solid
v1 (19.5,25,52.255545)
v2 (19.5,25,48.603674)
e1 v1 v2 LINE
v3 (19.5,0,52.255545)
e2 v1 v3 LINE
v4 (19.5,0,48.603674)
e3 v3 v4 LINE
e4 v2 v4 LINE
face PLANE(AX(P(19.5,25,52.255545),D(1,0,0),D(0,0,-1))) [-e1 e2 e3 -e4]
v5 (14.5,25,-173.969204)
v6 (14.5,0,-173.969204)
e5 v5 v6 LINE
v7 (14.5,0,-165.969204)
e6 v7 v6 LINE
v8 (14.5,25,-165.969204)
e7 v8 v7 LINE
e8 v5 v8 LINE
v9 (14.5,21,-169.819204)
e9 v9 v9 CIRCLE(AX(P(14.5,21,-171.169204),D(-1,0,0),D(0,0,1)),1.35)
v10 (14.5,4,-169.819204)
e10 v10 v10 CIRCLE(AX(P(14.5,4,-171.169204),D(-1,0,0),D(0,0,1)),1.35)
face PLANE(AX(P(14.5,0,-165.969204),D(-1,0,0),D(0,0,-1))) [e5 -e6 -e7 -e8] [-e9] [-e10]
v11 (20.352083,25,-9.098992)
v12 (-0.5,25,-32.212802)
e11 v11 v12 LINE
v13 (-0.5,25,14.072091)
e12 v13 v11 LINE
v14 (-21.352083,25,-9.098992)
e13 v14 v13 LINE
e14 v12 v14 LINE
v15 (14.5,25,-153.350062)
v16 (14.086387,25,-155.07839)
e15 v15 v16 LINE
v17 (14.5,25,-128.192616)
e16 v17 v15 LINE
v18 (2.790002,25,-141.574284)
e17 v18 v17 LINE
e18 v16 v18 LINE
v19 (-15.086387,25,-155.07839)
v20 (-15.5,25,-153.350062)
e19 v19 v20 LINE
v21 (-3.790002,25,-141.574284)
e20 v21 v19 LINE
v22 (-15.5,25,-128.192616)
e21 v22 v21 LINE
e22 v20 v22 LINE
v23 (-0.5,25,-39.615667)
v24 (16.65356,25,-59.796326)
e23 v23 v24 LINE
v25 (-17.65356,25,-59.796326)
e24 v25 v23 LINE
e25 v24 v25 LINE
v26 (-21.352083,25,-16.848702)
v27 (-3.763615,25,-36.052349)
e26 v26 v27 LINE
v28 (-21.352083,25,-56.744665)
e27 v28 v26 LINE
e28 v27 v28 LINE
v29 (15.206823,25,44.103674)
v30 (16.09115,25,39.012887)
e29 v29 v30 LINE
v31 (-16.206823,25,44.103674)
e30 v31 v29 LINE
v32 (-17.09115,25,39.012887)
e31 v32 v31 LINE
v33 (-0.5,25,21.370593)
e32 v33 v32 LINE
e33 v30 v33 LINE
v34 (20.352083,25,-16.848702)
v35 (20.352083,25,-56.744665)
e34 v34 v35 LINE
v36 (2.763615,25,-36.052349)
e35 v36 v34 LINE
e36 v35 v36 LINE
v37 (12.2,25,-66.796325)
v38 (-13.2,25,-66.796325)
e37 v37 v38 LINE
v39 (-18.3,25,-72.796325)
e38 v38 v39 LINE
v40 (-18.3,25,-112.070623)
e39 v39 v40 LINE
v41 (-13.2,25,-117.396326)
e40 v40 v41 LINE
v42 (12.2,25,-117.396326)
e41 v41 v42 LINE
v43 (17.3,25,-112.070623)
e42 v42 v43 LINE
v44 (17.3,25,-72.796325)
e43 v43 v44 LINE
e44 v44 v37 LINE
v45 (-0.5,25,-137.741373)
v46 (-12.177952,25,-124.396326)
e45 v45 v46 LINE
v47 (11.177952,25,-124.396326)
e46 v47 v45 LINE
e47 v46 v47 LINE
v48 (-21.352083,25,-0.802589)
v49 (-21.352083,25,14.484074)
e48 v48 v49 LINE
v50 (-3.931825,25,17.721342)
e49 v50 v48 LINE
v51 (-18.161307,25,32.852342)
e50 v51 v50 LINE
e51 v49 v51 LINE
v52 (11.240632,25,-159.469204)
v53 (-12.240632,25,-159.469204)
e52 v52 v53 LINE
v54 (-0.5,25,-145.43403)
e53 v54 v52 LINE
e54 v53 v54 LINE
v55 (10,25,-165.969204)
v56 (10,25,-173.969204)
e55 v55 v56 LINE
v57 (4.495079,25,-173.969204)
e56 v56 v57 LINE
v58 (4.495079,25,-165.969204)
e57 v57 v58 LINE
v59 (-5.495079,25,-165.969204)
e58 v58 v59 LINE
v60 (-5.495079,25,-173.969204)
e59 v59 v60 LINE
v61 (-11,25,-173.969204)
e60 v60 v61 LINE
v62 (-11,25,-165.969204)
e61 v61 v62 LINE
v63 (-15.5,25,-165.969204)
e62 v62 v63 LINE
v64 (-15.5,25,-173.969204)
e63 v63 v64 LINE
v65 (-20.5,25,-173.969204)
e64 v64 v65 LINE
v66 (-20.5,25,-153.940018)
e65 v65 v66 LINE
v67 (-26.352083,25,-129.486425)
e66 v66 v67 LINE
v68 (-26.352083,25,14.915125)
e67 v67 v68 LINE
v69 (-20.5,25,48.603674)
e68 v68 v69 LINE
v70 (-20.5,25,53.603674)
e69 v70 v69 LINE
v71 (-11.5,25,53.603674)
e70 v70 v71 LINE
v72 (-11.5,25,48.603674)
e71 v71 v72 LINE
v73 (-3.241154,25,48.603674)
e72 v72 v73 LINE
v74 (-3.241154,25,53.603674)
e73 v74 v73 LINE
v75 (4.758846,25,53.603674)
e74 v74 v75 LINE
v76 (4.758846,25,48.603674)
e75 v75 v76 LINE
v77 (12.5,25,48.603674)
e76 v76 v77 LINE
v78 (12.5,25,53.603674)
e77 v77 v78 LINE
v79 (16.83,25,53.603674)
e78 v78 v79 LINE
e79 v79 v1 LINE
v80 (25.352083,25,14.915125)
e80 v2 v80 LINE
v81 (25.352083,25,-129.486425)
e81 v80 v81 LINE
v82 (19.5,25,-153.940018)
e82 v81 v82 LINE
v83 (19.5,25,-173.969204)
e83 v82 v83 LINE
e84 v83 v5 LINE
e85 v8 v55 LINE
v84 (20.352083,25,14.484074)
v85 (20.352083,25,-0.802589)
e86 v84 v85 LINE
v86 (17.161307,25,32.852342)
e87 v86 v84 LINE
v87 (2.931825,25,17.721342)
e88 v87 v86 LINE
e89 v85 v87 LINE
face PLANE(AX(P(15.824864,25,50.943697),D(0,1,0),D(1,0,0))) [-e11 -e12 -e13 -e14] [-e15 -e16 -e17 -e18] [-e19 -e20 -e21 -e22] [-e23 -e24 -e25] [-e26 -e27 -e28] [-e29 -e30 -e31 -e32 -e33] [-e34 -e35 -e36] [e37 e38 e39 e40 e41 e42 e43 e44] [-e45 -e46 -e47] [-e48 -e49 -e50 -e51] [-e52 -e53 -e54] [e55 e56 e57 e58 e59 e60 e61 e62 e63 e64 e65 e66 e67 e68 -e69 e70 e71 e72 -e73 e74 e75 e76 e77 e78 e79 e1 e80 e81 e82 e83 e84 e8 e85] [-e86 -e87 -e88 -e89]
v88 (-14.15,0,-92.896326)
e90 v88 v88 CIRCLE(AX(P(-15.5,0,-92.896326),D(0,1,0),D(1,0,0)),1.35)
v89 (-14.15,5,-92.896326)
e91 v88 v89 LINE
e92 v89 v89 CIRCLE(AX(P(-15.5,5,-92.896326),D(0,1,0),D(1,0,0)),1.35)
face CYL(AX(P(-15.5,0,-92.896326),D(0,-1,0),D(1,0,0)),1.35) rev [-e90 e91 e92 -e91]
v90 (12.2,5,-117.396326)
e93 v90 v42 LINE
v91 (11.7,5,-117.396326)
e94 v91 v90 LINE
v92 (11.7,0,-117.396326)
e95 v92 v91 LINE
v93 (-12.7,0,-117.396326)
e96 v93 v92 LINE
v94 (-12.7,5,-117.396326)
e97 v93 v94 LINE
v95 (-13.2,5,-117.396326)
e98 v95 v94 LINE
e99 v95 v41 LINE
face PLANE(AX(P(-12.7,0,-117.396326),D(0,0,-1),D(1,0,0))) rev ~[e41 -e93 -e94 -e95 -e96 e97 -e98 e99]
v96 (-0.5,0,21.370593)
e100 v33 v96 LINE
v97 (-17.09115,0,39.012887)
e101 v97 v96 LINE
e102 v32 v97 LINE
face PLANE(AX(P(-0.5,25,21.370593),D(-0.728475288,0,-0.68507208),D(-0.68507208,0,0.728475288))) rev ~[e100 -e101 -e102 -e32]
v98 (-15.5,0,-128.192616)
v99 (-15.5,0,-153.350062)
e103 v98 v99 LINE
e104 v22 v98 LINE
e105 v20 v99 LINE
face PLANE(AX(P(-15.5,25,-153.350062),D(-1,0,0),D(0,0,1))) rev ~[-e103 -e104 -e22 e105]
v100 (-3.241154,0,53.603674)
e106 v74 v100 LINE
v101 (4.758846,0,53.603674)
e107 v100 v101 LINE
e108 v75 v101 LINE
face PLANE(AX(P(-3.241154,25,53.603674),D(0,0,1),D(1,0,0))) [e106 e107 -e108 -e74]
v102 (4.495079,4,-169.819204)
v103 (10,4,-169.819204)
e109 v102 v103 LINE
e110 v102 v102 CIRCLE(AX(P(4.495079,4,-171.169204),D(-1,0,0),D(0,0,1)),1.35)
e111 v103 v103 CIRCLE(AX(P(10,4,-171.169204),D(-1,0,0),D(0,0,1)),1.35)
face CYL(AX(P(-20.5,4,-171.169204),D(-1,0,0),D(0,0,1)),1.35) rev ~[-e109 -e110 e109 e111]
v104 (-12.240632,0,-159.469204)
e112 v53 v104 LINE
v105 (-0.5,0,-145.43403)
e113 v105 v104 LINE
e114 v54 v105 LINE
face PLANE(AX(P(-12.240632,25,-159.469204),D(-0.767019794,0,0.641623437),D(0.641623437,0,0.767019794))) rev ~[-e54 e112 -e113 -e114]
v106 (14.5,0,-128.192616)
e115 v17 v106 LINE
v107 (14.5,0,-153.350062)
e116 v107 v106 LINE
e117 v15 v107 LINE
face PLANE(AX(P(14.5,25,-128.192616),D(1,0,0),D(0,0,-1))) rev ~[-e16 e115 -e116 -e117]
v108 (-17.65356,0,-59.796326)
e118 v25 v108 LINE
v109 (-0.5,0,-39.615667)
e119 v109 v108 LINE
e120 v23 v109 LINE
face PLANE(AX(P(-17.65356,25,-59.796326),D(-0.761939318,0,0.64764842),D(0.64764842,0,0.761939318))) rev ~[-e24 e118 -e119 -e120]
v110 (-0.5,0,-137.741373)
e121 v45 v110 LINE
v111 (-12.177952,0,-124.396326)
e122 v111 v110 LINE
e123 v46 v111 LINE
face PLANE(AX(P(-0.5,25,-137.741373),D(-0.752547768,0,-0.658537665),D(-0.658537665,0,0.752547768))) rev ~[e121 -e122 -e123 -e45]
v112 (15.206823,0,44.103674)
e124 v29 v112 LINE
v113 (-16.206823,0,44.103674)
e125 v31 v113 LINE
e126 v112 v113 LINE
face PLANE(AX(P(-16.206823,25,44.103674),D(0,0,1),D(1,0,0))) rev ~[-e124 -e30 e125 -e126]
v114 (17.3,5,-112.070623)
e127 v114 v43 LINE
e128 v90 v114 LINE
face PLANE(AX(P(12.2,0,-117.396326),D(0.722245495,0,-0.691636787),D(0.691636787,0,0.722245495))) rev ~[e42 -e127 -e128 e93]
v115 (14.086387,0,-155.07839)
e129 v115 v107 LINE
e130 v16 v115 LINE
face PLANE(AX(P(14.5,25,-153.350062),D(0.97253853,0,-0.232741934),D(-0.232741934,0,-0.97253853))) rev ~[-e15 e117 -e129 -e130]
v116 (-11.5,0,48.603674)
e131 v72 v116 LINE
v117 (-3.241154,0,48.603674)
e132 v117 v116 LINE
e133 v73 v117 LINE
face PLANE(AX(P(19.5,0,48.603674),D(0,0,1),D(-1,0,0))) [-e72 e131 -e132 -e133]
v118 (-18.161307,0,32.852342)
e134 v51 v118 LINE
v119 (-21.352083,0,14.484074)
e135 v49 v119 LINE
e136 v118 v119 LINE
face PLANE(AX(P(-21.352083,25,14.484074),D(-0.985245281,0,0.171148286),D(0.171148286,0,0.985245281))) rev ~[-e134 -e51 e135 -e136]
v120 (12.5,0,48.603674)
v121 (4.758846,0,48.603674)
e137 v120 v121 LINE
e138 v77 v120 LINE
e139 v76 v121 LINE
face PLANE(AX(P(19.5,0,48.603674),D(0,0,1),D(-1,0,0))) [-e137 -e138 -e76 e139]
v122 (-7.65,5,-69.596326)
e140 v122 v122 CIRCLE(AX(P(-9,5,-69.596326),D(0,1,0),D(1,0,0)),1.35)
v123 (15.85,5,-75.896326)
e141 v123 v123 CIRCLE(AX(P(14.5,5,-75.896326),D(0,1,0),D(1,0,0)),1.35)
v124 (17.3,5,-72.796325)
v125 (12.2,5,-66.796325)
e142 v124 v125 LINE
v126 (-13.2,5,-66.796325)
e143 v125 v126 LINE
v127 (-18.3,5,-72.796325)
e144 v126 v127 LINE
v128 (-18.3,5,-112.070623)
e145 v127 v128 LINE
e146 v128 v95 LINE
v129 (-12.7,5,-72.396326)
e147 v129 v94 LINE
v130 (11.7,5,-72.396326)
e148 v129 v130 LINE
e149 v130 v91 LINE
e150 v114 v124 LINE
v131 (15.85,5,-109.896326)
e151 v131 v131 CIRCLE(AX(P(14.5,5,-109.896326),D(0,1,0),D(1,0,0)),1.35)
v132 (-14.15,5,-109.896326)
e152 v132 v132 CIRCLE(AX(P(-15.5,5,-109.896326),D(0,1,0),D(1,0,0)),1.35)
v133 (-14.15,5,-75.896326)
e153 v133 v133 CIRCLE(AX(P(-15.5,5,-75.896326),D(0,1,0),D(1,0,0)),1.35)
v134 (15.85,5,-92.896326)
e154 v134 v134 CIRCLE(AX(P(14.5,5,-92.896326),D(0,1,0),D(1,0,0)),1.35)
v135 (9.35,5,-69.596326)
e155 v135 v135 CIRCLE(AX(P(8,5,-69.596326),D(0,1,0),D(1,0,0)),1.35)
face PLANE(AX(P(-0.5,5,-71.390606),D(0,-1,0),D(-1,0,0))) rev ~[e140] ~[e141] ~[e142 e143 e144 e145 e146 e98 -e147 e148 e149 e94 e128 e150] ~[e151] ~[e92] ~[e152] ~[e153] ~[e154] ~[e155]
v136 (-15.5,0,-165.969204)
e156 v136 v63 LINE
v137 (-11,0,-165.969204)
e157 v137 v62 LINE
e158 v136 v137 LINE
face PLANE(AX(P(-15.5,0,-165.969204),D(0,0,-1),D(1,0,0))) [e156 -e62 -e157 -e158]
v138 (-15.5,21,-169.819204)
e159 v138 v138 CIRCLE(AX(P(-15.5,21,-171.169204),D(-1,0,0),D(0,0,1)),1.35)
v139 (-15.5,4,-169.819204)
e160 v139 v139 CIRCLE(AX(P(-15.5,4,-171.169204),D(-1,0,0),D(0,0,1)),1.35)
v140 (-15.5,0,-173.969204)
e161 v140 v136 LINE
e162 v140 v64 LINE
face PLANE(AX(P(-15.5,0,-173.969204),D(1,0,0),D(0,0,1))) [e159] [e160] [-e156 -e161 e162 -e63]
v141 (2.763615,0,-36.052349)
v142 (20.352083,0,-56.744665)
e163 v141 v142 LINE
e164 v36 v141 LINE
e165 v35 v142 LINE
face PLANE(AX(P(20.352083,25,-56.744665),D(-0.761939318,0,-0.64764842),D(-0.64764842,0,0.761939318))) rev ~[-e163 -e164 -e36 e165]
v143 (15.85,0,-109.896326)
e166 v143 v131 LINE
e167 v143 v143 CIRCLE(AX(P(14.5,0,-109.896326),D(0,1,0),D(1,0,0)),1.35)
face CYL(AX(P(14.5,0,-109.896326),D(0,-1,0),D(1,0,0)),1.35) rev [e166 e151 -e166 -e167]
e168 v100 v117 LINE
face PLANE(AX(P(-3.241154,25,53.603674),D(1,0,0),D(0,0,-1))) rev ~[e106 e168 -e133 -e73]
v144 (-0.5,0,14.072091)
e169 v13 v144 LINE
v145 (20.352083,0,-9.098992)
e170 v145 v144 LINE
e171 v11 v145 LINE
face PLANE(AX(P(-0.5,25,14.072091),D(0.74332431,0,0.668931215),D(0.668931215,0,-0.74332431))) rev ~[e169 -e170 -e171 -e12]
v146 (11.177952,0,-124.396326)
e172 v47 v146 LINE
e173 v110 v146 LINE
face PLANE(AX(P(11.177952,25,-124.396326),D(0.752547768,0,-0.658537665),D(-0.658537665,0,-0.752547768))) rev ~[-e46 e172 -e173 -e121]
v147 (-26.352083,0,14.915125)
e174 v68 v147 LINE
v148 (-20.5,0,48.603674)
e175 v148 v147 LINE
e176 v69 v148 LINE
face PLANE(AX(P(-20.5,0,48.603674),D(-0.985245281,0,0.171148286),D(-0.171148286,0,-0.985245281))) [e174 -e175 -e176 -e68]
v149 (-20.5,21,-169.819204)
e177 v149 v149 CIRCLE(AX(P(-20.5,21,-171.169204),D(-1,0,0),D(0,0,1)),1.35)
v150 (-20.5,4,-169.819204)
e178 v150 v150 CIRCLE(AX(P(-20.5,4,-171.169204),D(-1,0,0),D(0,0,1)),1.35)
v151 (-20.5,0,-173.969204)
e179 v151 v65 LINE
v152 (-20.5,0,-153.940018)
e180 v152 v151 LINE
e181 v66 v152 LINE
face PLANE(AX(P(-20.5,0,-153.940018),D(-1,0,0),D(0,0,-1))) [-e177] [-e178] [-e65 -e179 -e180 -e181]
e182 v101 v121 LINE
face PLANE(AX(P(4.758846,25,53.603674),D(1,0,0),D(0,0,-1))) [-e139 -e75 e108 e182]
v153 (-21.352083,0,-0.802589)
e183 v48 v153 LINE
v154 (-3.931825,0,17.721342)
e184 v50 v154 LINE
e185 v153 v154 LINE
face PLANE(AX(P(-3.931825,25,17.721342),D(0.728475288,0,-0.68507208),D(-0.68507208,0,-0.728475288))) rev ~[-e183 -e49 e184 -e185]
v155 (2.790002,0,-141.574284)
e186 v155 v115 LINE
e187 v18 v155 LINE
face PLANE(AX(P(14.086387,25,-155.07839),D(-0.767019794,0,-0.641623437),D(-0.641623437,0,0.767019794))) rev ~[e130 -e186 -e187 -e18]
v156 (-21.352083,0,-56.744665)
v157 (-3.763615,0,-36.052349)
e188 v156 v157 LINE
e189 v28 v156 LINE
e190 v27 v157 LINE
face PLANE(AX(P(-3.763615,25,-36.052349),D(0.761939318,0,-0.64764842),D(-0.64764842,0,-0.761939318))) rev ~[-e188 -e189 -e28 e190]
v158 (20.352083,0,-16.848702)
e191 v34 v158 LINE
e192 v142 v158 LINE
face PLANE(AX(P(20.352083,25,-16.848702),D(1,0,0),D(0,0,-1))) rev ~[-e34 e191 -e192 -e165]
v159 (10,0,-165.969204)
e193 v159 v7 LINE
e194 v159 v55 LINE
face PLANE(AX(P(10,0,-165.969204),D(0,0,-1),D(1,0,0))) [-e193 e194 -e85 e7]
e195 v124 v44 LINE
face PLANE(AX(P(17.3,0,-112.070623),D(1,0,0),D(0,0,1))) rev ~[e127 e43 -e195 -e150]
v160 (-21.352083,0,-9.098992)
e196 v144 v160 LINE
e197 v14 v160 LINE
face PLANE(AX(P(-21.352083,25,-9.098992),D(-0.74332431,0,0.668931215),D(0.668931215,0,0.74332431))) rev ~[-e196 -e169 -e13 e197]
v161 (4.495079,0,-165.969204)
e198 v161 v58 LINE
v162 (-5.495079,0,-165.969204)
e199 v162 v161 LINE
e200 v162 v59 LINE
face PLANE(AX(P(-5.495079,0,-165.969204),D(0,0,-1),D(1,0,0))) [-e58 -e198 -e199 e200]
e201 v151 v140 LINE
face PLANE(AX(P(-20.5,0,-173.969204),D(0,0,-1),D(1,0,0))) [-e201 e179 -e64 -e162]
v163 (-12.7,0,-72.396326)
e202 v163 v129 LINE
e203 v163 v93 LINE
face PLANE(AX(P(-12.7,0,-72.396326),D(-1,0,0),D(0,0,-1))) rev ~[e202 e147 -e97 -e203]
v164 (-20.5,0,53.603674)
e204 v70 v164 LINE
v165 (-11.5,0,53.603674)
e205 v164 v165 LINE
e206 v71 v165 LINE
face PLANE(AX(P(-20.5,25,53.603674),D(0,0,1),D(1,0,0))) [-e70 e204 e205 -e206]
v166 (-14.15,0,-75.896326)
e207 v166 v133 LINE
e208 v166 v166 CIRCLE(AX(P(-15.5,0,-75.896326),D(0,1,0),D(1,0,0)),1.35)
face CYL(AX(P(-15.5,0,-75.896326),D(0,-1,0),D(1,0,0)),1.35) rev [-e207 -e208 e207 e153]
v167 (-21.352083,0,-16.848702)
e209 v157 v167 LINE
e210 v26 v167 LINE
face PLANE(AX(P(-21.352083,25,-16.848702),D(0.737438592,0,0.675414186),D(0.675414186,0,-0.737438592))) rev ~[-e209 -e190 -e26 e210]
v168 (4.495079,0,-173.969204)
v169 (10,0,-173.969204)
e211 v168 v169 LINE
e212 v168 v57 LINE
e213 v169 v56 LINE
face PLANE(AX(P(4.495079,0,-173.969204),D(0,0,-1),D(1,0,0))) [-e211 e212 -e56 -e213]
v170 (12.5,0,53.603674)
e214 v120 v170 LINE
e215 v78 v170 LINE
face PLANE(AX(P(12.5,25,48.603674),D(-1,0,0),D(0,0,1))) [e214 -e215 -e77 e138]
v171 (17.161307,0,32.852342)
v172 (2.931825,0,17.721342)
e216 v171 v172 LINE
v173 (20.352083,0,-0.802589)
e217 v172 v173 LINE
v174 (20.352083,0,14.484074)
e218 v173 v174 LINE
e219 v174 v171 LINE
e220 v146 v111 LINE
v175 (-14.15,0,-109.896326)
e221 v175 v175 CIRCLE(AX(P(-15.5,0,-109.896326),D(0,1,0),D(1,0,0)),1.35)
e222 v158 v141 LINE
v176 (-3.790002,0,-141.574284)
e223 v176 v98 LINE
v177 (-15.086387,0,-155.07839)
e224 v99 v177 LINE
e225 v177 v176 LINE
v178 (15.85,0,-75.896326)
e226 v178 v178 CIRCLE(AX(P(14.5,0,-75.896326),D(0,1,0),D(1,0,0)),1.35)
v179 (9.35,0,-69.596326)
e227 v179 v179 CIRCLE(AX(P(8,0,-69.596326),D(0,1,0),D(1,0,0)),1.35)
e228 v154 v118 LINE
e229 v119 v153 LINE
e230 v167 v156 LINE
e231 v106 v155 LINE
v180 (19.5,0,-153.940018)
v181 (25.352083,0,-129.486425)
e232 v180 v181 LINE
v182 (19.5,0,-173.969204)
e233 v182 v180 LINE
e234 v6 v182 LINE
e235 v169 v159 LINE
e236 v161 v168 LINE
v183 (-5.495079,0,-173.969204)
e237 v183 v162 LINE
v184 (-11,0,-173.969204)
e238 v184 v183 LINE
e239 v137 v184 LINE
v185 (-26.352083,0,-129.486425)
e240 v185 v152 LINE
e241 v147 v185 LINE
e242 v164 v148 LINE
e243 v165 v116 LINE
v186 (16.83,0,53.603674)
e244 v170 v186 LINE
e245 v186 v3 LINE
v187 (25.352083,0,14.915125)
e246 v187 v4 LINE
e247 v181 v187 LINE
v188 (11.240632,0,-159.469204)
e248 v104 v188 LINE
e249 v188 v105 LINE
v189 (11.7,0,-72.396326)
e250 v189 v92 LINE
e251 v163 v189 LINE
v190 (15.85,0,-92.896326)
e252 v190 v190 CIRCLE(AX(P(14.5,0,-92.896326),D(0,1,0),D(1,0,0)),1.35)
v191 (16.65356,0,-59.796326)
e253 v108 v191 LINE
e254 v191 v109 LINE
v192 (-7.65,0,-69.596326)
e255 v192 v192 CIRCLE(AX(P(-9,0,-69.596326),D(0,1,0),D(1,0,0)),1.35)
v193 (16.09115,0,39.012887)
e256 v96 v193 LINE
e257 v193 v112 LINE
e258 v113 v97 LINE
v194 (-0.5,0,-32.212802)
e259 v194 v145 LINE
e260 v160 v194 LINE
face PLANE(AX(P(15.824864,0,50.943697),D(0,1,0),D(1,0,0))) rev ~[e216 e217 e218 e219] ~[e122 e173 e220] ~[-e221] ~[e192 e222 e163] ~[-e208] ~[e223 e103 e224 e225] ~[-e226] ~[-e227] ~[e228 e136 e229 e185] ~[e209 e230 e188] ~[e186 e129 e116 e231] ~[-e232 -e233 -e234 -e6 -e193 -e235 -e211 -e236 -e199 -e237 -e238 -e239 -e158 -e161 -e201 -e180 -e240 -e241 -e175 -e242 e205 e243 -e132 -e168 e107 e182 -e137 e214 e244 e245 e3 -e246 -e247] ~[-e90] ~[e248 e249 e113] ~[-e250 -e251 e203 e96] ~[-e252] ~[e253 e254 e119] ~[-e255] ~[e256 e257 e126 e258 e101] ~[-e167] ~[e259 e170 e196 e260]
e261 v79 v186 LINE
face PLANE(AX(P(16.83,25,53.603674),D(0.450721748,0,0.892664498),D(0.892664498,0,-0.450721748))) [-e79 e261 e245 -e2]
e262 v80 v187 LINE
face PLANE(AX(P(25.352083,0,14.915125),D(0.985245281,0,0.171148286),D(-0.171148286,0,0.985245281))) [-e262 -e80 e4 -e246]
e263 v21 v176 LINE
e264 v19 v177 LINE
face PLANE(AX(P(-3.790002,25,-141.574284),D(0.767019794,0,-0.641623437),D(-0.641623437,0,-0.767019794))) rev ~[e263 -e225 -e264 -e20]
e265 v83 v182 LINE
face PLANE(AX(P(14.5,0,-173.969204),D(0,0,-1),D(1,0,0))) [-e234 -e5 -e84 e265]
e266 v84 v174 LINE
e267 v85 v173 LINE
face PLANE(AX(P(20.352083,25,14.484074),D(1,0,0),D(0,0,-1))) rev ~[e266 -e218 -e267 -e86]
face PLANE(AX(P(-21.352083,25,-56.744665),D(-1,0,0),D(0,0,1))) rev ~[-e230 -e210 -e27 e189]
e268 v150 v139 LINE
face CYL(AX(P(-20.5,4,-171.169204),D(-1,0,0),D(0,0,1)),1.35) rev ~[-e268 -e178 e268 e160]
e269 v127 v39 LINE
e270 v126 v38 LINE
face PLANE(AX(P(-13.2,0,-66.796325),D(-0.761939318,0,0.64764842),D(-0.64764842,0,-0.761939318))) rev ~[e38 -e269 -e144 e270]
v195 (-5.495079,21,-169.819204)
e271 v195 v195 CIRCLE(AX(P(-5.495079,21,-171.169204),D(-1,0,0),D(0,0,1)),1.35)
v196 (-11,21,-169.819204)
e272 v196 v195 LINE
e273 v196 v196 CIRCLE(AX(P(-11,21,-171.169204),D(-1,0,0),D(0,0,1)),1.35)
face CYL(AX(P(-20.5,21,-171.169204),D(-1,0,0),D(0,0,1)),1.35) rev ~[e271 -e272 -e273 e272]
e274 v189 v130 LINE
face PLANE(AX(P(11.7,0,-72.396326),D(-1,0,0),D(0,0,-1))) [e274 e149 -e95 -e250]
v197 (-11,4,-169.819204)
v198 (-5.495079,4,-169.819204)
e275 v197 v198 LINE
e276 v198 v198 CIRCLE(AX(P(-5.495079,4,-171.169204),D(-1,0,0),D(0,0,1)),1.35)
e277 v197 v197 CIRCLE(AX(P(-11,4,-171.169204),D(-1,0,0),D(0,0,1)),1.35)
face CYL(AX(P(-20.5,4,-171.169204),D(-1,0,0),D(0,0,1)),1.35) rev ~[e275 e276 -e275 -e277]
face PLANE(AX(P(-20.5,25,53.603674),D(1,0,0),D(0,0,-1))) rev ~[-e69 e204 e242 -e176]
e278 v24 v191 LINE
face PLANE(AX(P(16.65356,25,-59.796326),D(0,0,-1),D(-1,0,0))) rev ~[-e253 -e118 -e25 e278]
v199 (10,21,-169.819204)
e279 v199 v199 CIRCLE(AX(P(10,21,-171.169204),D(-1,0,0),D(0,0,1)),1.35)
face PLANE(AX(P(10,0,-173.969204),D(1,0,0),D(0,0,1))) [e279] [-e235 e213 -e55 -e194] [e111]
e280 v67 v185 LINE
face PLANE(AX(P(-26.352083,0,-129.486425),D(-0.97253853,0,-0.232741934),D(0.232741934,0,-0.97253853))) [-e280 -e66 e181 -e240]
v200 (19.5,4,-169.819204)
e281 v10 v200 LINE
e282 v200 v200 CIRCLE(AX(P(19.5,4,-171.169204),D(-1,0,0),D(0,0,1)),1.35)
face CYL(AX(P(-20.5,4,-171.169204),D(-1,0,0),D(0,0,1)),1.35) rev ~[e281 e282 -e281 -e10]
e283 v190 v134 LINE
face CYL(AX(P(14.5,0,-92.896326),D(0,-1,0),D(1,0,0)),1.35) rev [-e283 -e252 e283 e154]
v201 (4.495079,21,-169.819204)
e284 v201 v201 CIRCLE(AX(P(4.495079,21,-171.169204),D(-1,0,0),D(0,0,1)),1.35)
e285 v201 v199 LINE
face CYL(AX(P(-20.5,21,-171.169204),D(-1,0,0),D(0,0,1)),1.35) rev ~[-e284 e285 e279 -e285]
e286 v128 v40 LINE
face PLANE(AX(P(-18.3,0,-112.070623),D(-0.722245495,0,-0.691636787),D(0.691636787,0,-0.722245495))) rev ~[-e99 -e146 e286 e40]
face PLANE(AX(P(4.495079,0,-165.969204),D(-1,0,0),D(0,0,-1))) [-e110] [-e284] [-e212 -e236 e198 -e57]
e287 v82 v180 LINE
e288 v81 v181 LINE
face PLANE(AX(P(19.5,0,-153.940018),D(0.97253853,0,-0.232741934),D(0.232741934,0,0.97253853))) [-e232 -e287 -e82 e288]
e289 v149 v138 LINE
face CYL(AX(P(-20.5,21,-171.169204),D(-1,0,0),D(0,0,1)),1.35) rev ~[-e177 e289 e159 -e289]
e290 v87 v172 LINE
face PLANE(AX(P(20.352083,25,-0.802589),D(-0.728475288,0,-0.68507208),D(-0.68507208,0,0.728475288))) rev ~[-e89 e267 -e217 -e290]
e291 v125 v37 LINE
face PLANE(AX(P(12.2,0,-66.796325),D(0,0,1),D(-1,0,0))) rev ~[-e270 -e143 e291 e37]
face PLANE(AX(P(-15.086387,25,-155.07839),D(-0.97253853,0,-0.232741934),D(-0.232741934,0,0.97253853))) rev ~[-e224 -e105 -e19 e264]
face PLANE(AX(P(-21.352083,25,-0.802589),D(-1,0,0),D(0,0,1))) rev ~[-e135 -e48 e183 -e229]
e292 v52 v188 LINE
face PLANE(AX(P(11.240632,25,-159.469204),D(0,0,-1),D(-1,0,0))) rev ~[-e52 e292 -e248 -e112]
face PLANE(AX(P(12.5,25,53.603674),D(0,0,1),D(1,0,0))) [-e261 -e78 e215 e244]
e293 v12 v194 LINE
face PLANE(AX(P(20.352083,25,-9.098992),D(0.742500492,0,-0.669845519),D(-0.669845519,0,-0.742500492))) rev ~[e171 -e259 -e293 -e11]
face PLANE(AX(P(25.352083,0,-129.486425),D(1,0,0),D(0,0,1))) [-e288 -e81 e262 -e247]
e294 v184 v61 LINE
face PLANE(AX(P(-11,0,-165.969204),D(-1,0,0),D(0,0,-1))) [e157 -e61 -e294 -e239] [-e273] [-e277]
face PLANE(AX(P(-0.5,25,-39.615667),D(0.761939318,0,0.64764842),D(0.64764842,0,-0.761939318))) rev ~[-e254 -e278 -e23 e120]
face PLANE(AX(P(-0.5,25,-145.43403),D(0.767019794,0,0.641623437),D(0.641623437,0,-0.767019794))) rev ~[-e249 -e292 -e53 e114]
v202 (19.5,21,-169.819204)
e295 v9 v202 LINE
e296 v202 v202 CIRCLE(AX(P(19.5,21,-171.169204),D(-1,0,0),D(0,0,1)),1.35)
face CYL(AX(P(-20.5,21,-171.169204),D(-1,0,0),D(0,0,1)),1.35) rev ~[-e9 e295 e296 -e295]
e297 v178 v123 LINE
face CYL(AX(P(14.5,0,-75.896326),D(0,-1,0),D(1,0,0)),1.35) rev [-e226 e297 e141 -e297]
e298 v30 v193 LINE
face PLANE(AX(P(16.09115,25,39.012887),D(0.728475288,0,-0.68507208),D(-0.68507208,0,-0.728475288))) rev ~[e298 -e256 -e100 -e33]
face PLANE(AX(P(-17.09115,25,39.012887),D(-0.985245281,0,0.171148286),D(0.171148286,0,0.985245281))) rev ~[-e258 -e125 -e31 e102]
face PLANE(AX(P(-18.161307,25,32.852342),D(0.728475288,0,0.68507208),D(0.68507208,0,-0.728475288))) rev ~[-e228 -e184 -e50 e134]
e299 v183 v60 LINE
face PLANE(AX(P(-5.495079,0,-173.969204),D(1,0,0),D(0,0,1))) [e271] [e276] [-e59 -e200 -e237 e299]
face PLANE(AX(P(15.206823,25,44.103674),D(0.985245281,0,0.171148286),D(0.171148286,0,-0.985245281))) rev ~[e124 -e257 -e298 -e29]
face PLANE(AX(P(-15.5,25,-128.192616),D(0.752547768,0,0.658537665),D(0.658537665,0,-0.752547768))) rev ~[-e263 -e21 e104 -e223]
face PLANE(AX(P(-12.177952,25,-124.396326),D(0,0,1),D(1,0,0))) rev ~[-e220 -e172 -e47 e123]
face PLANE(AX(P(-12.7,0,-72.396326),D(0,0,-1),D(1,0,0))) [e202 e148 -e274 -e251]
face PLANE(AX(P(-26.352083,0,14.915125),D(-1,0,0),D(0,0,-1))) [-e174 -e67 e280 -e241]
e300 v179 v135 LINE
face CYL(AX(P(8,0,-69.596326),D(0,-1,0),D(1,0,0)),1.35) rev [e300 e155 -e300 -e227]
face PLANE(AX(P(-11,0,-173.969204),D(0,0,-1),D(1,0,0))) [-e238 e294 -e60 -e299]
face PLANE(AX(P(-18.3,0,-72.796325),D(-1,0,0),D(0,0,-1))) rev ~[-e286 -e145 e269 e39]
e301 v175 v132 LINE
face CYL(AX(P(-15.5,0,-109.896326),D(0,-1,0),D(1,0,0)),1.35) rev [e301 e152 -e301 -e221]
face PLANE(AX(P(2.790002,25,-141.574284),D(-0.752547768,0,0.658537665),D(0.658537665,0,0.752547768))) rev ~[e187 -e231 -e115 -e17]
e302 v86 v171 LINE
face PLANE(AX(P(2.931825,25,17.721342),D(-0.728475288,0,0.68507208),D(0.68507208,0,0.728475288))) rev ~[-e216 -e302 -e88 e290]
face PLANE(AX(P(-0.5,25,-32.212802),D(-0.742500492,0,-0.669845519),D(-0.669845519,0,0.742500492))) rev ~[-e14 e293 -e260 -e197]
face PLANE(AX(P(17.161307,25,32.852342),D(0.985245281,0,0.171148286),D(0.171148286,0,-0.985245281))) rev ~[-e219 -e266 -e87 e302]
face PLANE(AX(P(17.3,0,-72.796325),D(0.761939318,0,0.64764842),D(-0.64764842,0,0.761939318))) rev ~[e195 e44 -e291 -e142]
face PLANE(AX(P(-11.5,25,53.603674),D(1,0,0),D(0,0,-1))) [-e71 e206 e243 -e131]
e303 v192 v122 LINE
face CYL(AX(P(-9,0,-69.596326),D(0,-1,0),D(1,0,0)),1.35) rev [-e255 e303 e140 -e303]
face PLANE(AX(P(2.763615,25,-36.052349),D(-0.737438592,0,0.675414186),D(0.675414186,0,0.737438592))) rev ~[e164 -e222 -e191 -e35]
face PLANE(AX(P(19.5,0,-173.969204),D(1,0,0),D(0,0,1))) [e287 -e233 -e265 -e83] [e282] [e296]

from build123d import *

# Parameters (mm, degrees)
SZKIC1_W                    = 24.4
SZKIC1_H                    = 45
SZKIC1_R                    = 1.35
DODANIE_WYCI_GNI_CIE1_DEPTH = 5
DODANIE_WYCI_GNI_CIE2_DEPTH = 25
WYTNIJ_WYCI_GNI_CIE5_DEPTH  = 178.720894332
SZKIC7_R                    = 1.35
WYTNIJ_WYCI_GNI_CIE6_DEPTH  = 182.638920752
SZKIC8_W                    = 8
SZKIC8_H                    = 5
SZKIC8_W_2                  = 9
DODANIE_WYCI_GNI_CIE3_DEPTH = 25


with BuildPart() as part:
    # Szkic1 → Dodanie-wyci_gni_cie1 (new body)
    with BuildSketch(Plane(origin=(0, 0, 0), x_dir=(1, 0, 0), z_dir=(0, 1, 0))):
        Polygon((14.5, 165.969204133), (10, 165.969204133), (10, 173.969204133), (4.495079248, 173.969204133), (4.495079248, 165.969204133), (-5.495079248, 165.969204133), (-5.495079248, 173.969204133), (-11, 173.969204133), (-11, 165.969204133), (-15.5, 165.969204133), (-15.5, 173.969204133), (-20.5, 173.969204133), (-20.5, 153.940017653), (-26.352083325, 129.486424712), (-26.352083325, -14.915125095), (-20.5, -48.6036745), (19.5, -48.6036745), (25.352083325, -14.915125095), (25.352083325, 129.486424712), (19.5, 153.940017653), (19.5, 173.969204133), (14.5, 173.969204133), align=None)
        with Locations((-0.5, 94.8963255)):
            Rectangle(SZKIC1_W, SZKIC1_H, mode=Mode.SUBTRACT)
        with Locations((14.5, 109.8963255)):
            Circle(SZKIC1_R, mode=Mode.SUBTRACT)
        with Locations((-15.5, 75.8963255)):
            Circle(SZKIC1_R, mode=Mode.SUBTRACT)
        with Locations((-15.5, 92.8963255)):
            Circle(SZKIC1_R, mode=Mode.SUBTRACT)
        with Locations((-15.5, 109.8963255)):
            Circle(SZKIC1_R, mode=Mode.SUBTRACT)
        with Locations((-9, 69.5963255)):
            Circle(SZKIC1_R, mode=Mode.SUBTRACT)
        with Locations((8, 69.5963255)):
            Circle(SZKIC1_R, mode=Mode.SUBTRACT)
        with Locations((14.5, 75.8963255)):
            Circle(SZKIC1_R, mode=Mode.SUBTRACT)
        with Locations((14.5, 92.8963255)):
            Circle(SZKIC1_R, mode=Mode.SUBTRACT)
    extrude(amount=DODANIE_WYCI_GNI_CIE1_DEPTH)

    # Szkic1_3 → Dodanie-wyci_gni_cie2 (add)
    with BuildSketch(Plane(origin=(0, 0, 0), x_dir=(1, 0, 0), z_dir=(0, 1, 0))):
        Polygon((14.5, 165.969204133), (10, 165.969204133), (10, 173.969204133), (4.495079248, 173.969204133), (4.495079248, 165.969204133), (-5.495079248, 165.969204133), (-5.495079248, 173.969204133), (-11, 173.969204133), (-11, 165.969204133), (-15.5, 165.969204133), (-15.5, 173.969204133), (-20.5, 173.969204133), (-20.5, 153.940017653), (-26.352083325, 129.486424712), (-26.352083325, -14.915125095), (-20.5, -48.6036745), (19.5, -48.6036745), (25.352083325, -14.915125095), (25.352083325, 129.486424712), (19.5, 153.940017653), (19.5, 173.969204133), (14.5, 173.969204133), align=None)
        Polygon((-13.2, 117.3963255), (-12.7, 117.3963255), (11.7, 117.3963255), (12.2, 117.3963255), (17.3, 112.070622628), (17.3, 72.7963255), (12.2, 66.7963255), (-13.2, 66.7963255), (-18.3, 72.7963255), (-18.3, 112.070622628), align=None, mode=Mode.SUBTRACT)
    extrude(amount=DODANIE_WYCI_GNI_CIE2_DEPTH)

    # Szkic6 → Wytnij-wyci_gni_cie5 (cut, through all)
    with BuildSketch(Plane(origin=(0, 25, 0), x_dir=(1, 0, 0), z_dir=(0, 1, 0))):
        Polygon((16.653559582, 59.7963255), (-17.653559582, 59.7963255), (-0.5, 39.615667168), align=None)
        Polygon((-21.352083325, 56.74466496), (-21.352083325, 16.848702414), (-3.763614868, 36.052349129), align=None)
        Polygon((2.763614868, 36.052349129), (20.352083325, 16.848702414), (20.352083325, 56.74466496), align=None)
        Polygon((17.161306881, -32.852341508), (20.352083325, -14.484074364), (20.352083325, 0.802588639), (2.931825406, -17.721341562), align=None)
        Polygon((15.206822662, -44.1036745), (16.091150305, -39.01288651), (-0.5, -21.370592599), (-17.091150305, -39.01288651), (-16.206822662, -44.1036745), align=None)
        Polygon((-0.5, -14.072090524), (20.352083325, 9.098992114), (-0.5, 32.212802226), (-21.352083325, 9.098992114), align=None)
        Polygon((-3.931825406, -17.721341562), (-21.352083325, 0.802588639), (-21.352083325, -14.484074364), (-18.161306881, -32.852341508), align=None)
        Polygon((-12.240631704, 159.469204133), (-0.5, 145.434029611), (11.240631704, 159.469204133), align=None)
        Polygon((-15.086387227, 155.078390111), (-15.5, 153.350062298), (-15.5, 128.192615569), (-3.790002176, 141.574284058), align=None)
        Polygon((-12.177951744, 124.3963255), (11.177951744, 124.3963255), (-0.5, 137.741373143), align=None)
        Polygon((14.5, 128.192615569), (14.5, 153.350062298), (14.086387227, 155.078390111), (2.790002176, 141.574284058), align=None)
    extrude(amount=-WYTNIJ_WYCI_GNI_CIE5_DEPTH, mode=Mode.SUBTRACT)

    # Szkic7 → Wytnij-wyci_gni_cie6 (cut, through all)
    with BuildSketch(Plane.ZY.offset(20.5)):
        with Locations((-171.169204133, 21)):
            Circle(SZKIC7_R)
        with Locations((-171.169204133, 4)):
            Circle(SZKIC7_R)
    extrude(amount=-WYTNIJ_WYCI_GNI_CIE6_DEPTH, mode=Mode.SUBTRACT)

    # Szkic8 → Dodanie-wyci_gni_cie3 (add)
    with BuildSketch(Plane(origin=(0, 25, 0), x_dir=(1, 0, 0), z_dir=(0, 1, 0))):
        Polygon((19.5, -52.255545309), (19.5, -48.6036745), (12.5, -48.6036745), (12.5, -53.6036745), (16.83, -53.6036745), align=None)
        with Locations((0.758846465, -51.1036745)):
            Rectangle(SZKIC8_W, SZKIC8_H)
        with Locations((-16, -51.1036745)):
            Rectangle(SZKIC8_W_2, SZKIC8_H)
    extrude(amount=-DODANIE_WYCI_GNI_CIE3_DEPTH)


solid = part.part
